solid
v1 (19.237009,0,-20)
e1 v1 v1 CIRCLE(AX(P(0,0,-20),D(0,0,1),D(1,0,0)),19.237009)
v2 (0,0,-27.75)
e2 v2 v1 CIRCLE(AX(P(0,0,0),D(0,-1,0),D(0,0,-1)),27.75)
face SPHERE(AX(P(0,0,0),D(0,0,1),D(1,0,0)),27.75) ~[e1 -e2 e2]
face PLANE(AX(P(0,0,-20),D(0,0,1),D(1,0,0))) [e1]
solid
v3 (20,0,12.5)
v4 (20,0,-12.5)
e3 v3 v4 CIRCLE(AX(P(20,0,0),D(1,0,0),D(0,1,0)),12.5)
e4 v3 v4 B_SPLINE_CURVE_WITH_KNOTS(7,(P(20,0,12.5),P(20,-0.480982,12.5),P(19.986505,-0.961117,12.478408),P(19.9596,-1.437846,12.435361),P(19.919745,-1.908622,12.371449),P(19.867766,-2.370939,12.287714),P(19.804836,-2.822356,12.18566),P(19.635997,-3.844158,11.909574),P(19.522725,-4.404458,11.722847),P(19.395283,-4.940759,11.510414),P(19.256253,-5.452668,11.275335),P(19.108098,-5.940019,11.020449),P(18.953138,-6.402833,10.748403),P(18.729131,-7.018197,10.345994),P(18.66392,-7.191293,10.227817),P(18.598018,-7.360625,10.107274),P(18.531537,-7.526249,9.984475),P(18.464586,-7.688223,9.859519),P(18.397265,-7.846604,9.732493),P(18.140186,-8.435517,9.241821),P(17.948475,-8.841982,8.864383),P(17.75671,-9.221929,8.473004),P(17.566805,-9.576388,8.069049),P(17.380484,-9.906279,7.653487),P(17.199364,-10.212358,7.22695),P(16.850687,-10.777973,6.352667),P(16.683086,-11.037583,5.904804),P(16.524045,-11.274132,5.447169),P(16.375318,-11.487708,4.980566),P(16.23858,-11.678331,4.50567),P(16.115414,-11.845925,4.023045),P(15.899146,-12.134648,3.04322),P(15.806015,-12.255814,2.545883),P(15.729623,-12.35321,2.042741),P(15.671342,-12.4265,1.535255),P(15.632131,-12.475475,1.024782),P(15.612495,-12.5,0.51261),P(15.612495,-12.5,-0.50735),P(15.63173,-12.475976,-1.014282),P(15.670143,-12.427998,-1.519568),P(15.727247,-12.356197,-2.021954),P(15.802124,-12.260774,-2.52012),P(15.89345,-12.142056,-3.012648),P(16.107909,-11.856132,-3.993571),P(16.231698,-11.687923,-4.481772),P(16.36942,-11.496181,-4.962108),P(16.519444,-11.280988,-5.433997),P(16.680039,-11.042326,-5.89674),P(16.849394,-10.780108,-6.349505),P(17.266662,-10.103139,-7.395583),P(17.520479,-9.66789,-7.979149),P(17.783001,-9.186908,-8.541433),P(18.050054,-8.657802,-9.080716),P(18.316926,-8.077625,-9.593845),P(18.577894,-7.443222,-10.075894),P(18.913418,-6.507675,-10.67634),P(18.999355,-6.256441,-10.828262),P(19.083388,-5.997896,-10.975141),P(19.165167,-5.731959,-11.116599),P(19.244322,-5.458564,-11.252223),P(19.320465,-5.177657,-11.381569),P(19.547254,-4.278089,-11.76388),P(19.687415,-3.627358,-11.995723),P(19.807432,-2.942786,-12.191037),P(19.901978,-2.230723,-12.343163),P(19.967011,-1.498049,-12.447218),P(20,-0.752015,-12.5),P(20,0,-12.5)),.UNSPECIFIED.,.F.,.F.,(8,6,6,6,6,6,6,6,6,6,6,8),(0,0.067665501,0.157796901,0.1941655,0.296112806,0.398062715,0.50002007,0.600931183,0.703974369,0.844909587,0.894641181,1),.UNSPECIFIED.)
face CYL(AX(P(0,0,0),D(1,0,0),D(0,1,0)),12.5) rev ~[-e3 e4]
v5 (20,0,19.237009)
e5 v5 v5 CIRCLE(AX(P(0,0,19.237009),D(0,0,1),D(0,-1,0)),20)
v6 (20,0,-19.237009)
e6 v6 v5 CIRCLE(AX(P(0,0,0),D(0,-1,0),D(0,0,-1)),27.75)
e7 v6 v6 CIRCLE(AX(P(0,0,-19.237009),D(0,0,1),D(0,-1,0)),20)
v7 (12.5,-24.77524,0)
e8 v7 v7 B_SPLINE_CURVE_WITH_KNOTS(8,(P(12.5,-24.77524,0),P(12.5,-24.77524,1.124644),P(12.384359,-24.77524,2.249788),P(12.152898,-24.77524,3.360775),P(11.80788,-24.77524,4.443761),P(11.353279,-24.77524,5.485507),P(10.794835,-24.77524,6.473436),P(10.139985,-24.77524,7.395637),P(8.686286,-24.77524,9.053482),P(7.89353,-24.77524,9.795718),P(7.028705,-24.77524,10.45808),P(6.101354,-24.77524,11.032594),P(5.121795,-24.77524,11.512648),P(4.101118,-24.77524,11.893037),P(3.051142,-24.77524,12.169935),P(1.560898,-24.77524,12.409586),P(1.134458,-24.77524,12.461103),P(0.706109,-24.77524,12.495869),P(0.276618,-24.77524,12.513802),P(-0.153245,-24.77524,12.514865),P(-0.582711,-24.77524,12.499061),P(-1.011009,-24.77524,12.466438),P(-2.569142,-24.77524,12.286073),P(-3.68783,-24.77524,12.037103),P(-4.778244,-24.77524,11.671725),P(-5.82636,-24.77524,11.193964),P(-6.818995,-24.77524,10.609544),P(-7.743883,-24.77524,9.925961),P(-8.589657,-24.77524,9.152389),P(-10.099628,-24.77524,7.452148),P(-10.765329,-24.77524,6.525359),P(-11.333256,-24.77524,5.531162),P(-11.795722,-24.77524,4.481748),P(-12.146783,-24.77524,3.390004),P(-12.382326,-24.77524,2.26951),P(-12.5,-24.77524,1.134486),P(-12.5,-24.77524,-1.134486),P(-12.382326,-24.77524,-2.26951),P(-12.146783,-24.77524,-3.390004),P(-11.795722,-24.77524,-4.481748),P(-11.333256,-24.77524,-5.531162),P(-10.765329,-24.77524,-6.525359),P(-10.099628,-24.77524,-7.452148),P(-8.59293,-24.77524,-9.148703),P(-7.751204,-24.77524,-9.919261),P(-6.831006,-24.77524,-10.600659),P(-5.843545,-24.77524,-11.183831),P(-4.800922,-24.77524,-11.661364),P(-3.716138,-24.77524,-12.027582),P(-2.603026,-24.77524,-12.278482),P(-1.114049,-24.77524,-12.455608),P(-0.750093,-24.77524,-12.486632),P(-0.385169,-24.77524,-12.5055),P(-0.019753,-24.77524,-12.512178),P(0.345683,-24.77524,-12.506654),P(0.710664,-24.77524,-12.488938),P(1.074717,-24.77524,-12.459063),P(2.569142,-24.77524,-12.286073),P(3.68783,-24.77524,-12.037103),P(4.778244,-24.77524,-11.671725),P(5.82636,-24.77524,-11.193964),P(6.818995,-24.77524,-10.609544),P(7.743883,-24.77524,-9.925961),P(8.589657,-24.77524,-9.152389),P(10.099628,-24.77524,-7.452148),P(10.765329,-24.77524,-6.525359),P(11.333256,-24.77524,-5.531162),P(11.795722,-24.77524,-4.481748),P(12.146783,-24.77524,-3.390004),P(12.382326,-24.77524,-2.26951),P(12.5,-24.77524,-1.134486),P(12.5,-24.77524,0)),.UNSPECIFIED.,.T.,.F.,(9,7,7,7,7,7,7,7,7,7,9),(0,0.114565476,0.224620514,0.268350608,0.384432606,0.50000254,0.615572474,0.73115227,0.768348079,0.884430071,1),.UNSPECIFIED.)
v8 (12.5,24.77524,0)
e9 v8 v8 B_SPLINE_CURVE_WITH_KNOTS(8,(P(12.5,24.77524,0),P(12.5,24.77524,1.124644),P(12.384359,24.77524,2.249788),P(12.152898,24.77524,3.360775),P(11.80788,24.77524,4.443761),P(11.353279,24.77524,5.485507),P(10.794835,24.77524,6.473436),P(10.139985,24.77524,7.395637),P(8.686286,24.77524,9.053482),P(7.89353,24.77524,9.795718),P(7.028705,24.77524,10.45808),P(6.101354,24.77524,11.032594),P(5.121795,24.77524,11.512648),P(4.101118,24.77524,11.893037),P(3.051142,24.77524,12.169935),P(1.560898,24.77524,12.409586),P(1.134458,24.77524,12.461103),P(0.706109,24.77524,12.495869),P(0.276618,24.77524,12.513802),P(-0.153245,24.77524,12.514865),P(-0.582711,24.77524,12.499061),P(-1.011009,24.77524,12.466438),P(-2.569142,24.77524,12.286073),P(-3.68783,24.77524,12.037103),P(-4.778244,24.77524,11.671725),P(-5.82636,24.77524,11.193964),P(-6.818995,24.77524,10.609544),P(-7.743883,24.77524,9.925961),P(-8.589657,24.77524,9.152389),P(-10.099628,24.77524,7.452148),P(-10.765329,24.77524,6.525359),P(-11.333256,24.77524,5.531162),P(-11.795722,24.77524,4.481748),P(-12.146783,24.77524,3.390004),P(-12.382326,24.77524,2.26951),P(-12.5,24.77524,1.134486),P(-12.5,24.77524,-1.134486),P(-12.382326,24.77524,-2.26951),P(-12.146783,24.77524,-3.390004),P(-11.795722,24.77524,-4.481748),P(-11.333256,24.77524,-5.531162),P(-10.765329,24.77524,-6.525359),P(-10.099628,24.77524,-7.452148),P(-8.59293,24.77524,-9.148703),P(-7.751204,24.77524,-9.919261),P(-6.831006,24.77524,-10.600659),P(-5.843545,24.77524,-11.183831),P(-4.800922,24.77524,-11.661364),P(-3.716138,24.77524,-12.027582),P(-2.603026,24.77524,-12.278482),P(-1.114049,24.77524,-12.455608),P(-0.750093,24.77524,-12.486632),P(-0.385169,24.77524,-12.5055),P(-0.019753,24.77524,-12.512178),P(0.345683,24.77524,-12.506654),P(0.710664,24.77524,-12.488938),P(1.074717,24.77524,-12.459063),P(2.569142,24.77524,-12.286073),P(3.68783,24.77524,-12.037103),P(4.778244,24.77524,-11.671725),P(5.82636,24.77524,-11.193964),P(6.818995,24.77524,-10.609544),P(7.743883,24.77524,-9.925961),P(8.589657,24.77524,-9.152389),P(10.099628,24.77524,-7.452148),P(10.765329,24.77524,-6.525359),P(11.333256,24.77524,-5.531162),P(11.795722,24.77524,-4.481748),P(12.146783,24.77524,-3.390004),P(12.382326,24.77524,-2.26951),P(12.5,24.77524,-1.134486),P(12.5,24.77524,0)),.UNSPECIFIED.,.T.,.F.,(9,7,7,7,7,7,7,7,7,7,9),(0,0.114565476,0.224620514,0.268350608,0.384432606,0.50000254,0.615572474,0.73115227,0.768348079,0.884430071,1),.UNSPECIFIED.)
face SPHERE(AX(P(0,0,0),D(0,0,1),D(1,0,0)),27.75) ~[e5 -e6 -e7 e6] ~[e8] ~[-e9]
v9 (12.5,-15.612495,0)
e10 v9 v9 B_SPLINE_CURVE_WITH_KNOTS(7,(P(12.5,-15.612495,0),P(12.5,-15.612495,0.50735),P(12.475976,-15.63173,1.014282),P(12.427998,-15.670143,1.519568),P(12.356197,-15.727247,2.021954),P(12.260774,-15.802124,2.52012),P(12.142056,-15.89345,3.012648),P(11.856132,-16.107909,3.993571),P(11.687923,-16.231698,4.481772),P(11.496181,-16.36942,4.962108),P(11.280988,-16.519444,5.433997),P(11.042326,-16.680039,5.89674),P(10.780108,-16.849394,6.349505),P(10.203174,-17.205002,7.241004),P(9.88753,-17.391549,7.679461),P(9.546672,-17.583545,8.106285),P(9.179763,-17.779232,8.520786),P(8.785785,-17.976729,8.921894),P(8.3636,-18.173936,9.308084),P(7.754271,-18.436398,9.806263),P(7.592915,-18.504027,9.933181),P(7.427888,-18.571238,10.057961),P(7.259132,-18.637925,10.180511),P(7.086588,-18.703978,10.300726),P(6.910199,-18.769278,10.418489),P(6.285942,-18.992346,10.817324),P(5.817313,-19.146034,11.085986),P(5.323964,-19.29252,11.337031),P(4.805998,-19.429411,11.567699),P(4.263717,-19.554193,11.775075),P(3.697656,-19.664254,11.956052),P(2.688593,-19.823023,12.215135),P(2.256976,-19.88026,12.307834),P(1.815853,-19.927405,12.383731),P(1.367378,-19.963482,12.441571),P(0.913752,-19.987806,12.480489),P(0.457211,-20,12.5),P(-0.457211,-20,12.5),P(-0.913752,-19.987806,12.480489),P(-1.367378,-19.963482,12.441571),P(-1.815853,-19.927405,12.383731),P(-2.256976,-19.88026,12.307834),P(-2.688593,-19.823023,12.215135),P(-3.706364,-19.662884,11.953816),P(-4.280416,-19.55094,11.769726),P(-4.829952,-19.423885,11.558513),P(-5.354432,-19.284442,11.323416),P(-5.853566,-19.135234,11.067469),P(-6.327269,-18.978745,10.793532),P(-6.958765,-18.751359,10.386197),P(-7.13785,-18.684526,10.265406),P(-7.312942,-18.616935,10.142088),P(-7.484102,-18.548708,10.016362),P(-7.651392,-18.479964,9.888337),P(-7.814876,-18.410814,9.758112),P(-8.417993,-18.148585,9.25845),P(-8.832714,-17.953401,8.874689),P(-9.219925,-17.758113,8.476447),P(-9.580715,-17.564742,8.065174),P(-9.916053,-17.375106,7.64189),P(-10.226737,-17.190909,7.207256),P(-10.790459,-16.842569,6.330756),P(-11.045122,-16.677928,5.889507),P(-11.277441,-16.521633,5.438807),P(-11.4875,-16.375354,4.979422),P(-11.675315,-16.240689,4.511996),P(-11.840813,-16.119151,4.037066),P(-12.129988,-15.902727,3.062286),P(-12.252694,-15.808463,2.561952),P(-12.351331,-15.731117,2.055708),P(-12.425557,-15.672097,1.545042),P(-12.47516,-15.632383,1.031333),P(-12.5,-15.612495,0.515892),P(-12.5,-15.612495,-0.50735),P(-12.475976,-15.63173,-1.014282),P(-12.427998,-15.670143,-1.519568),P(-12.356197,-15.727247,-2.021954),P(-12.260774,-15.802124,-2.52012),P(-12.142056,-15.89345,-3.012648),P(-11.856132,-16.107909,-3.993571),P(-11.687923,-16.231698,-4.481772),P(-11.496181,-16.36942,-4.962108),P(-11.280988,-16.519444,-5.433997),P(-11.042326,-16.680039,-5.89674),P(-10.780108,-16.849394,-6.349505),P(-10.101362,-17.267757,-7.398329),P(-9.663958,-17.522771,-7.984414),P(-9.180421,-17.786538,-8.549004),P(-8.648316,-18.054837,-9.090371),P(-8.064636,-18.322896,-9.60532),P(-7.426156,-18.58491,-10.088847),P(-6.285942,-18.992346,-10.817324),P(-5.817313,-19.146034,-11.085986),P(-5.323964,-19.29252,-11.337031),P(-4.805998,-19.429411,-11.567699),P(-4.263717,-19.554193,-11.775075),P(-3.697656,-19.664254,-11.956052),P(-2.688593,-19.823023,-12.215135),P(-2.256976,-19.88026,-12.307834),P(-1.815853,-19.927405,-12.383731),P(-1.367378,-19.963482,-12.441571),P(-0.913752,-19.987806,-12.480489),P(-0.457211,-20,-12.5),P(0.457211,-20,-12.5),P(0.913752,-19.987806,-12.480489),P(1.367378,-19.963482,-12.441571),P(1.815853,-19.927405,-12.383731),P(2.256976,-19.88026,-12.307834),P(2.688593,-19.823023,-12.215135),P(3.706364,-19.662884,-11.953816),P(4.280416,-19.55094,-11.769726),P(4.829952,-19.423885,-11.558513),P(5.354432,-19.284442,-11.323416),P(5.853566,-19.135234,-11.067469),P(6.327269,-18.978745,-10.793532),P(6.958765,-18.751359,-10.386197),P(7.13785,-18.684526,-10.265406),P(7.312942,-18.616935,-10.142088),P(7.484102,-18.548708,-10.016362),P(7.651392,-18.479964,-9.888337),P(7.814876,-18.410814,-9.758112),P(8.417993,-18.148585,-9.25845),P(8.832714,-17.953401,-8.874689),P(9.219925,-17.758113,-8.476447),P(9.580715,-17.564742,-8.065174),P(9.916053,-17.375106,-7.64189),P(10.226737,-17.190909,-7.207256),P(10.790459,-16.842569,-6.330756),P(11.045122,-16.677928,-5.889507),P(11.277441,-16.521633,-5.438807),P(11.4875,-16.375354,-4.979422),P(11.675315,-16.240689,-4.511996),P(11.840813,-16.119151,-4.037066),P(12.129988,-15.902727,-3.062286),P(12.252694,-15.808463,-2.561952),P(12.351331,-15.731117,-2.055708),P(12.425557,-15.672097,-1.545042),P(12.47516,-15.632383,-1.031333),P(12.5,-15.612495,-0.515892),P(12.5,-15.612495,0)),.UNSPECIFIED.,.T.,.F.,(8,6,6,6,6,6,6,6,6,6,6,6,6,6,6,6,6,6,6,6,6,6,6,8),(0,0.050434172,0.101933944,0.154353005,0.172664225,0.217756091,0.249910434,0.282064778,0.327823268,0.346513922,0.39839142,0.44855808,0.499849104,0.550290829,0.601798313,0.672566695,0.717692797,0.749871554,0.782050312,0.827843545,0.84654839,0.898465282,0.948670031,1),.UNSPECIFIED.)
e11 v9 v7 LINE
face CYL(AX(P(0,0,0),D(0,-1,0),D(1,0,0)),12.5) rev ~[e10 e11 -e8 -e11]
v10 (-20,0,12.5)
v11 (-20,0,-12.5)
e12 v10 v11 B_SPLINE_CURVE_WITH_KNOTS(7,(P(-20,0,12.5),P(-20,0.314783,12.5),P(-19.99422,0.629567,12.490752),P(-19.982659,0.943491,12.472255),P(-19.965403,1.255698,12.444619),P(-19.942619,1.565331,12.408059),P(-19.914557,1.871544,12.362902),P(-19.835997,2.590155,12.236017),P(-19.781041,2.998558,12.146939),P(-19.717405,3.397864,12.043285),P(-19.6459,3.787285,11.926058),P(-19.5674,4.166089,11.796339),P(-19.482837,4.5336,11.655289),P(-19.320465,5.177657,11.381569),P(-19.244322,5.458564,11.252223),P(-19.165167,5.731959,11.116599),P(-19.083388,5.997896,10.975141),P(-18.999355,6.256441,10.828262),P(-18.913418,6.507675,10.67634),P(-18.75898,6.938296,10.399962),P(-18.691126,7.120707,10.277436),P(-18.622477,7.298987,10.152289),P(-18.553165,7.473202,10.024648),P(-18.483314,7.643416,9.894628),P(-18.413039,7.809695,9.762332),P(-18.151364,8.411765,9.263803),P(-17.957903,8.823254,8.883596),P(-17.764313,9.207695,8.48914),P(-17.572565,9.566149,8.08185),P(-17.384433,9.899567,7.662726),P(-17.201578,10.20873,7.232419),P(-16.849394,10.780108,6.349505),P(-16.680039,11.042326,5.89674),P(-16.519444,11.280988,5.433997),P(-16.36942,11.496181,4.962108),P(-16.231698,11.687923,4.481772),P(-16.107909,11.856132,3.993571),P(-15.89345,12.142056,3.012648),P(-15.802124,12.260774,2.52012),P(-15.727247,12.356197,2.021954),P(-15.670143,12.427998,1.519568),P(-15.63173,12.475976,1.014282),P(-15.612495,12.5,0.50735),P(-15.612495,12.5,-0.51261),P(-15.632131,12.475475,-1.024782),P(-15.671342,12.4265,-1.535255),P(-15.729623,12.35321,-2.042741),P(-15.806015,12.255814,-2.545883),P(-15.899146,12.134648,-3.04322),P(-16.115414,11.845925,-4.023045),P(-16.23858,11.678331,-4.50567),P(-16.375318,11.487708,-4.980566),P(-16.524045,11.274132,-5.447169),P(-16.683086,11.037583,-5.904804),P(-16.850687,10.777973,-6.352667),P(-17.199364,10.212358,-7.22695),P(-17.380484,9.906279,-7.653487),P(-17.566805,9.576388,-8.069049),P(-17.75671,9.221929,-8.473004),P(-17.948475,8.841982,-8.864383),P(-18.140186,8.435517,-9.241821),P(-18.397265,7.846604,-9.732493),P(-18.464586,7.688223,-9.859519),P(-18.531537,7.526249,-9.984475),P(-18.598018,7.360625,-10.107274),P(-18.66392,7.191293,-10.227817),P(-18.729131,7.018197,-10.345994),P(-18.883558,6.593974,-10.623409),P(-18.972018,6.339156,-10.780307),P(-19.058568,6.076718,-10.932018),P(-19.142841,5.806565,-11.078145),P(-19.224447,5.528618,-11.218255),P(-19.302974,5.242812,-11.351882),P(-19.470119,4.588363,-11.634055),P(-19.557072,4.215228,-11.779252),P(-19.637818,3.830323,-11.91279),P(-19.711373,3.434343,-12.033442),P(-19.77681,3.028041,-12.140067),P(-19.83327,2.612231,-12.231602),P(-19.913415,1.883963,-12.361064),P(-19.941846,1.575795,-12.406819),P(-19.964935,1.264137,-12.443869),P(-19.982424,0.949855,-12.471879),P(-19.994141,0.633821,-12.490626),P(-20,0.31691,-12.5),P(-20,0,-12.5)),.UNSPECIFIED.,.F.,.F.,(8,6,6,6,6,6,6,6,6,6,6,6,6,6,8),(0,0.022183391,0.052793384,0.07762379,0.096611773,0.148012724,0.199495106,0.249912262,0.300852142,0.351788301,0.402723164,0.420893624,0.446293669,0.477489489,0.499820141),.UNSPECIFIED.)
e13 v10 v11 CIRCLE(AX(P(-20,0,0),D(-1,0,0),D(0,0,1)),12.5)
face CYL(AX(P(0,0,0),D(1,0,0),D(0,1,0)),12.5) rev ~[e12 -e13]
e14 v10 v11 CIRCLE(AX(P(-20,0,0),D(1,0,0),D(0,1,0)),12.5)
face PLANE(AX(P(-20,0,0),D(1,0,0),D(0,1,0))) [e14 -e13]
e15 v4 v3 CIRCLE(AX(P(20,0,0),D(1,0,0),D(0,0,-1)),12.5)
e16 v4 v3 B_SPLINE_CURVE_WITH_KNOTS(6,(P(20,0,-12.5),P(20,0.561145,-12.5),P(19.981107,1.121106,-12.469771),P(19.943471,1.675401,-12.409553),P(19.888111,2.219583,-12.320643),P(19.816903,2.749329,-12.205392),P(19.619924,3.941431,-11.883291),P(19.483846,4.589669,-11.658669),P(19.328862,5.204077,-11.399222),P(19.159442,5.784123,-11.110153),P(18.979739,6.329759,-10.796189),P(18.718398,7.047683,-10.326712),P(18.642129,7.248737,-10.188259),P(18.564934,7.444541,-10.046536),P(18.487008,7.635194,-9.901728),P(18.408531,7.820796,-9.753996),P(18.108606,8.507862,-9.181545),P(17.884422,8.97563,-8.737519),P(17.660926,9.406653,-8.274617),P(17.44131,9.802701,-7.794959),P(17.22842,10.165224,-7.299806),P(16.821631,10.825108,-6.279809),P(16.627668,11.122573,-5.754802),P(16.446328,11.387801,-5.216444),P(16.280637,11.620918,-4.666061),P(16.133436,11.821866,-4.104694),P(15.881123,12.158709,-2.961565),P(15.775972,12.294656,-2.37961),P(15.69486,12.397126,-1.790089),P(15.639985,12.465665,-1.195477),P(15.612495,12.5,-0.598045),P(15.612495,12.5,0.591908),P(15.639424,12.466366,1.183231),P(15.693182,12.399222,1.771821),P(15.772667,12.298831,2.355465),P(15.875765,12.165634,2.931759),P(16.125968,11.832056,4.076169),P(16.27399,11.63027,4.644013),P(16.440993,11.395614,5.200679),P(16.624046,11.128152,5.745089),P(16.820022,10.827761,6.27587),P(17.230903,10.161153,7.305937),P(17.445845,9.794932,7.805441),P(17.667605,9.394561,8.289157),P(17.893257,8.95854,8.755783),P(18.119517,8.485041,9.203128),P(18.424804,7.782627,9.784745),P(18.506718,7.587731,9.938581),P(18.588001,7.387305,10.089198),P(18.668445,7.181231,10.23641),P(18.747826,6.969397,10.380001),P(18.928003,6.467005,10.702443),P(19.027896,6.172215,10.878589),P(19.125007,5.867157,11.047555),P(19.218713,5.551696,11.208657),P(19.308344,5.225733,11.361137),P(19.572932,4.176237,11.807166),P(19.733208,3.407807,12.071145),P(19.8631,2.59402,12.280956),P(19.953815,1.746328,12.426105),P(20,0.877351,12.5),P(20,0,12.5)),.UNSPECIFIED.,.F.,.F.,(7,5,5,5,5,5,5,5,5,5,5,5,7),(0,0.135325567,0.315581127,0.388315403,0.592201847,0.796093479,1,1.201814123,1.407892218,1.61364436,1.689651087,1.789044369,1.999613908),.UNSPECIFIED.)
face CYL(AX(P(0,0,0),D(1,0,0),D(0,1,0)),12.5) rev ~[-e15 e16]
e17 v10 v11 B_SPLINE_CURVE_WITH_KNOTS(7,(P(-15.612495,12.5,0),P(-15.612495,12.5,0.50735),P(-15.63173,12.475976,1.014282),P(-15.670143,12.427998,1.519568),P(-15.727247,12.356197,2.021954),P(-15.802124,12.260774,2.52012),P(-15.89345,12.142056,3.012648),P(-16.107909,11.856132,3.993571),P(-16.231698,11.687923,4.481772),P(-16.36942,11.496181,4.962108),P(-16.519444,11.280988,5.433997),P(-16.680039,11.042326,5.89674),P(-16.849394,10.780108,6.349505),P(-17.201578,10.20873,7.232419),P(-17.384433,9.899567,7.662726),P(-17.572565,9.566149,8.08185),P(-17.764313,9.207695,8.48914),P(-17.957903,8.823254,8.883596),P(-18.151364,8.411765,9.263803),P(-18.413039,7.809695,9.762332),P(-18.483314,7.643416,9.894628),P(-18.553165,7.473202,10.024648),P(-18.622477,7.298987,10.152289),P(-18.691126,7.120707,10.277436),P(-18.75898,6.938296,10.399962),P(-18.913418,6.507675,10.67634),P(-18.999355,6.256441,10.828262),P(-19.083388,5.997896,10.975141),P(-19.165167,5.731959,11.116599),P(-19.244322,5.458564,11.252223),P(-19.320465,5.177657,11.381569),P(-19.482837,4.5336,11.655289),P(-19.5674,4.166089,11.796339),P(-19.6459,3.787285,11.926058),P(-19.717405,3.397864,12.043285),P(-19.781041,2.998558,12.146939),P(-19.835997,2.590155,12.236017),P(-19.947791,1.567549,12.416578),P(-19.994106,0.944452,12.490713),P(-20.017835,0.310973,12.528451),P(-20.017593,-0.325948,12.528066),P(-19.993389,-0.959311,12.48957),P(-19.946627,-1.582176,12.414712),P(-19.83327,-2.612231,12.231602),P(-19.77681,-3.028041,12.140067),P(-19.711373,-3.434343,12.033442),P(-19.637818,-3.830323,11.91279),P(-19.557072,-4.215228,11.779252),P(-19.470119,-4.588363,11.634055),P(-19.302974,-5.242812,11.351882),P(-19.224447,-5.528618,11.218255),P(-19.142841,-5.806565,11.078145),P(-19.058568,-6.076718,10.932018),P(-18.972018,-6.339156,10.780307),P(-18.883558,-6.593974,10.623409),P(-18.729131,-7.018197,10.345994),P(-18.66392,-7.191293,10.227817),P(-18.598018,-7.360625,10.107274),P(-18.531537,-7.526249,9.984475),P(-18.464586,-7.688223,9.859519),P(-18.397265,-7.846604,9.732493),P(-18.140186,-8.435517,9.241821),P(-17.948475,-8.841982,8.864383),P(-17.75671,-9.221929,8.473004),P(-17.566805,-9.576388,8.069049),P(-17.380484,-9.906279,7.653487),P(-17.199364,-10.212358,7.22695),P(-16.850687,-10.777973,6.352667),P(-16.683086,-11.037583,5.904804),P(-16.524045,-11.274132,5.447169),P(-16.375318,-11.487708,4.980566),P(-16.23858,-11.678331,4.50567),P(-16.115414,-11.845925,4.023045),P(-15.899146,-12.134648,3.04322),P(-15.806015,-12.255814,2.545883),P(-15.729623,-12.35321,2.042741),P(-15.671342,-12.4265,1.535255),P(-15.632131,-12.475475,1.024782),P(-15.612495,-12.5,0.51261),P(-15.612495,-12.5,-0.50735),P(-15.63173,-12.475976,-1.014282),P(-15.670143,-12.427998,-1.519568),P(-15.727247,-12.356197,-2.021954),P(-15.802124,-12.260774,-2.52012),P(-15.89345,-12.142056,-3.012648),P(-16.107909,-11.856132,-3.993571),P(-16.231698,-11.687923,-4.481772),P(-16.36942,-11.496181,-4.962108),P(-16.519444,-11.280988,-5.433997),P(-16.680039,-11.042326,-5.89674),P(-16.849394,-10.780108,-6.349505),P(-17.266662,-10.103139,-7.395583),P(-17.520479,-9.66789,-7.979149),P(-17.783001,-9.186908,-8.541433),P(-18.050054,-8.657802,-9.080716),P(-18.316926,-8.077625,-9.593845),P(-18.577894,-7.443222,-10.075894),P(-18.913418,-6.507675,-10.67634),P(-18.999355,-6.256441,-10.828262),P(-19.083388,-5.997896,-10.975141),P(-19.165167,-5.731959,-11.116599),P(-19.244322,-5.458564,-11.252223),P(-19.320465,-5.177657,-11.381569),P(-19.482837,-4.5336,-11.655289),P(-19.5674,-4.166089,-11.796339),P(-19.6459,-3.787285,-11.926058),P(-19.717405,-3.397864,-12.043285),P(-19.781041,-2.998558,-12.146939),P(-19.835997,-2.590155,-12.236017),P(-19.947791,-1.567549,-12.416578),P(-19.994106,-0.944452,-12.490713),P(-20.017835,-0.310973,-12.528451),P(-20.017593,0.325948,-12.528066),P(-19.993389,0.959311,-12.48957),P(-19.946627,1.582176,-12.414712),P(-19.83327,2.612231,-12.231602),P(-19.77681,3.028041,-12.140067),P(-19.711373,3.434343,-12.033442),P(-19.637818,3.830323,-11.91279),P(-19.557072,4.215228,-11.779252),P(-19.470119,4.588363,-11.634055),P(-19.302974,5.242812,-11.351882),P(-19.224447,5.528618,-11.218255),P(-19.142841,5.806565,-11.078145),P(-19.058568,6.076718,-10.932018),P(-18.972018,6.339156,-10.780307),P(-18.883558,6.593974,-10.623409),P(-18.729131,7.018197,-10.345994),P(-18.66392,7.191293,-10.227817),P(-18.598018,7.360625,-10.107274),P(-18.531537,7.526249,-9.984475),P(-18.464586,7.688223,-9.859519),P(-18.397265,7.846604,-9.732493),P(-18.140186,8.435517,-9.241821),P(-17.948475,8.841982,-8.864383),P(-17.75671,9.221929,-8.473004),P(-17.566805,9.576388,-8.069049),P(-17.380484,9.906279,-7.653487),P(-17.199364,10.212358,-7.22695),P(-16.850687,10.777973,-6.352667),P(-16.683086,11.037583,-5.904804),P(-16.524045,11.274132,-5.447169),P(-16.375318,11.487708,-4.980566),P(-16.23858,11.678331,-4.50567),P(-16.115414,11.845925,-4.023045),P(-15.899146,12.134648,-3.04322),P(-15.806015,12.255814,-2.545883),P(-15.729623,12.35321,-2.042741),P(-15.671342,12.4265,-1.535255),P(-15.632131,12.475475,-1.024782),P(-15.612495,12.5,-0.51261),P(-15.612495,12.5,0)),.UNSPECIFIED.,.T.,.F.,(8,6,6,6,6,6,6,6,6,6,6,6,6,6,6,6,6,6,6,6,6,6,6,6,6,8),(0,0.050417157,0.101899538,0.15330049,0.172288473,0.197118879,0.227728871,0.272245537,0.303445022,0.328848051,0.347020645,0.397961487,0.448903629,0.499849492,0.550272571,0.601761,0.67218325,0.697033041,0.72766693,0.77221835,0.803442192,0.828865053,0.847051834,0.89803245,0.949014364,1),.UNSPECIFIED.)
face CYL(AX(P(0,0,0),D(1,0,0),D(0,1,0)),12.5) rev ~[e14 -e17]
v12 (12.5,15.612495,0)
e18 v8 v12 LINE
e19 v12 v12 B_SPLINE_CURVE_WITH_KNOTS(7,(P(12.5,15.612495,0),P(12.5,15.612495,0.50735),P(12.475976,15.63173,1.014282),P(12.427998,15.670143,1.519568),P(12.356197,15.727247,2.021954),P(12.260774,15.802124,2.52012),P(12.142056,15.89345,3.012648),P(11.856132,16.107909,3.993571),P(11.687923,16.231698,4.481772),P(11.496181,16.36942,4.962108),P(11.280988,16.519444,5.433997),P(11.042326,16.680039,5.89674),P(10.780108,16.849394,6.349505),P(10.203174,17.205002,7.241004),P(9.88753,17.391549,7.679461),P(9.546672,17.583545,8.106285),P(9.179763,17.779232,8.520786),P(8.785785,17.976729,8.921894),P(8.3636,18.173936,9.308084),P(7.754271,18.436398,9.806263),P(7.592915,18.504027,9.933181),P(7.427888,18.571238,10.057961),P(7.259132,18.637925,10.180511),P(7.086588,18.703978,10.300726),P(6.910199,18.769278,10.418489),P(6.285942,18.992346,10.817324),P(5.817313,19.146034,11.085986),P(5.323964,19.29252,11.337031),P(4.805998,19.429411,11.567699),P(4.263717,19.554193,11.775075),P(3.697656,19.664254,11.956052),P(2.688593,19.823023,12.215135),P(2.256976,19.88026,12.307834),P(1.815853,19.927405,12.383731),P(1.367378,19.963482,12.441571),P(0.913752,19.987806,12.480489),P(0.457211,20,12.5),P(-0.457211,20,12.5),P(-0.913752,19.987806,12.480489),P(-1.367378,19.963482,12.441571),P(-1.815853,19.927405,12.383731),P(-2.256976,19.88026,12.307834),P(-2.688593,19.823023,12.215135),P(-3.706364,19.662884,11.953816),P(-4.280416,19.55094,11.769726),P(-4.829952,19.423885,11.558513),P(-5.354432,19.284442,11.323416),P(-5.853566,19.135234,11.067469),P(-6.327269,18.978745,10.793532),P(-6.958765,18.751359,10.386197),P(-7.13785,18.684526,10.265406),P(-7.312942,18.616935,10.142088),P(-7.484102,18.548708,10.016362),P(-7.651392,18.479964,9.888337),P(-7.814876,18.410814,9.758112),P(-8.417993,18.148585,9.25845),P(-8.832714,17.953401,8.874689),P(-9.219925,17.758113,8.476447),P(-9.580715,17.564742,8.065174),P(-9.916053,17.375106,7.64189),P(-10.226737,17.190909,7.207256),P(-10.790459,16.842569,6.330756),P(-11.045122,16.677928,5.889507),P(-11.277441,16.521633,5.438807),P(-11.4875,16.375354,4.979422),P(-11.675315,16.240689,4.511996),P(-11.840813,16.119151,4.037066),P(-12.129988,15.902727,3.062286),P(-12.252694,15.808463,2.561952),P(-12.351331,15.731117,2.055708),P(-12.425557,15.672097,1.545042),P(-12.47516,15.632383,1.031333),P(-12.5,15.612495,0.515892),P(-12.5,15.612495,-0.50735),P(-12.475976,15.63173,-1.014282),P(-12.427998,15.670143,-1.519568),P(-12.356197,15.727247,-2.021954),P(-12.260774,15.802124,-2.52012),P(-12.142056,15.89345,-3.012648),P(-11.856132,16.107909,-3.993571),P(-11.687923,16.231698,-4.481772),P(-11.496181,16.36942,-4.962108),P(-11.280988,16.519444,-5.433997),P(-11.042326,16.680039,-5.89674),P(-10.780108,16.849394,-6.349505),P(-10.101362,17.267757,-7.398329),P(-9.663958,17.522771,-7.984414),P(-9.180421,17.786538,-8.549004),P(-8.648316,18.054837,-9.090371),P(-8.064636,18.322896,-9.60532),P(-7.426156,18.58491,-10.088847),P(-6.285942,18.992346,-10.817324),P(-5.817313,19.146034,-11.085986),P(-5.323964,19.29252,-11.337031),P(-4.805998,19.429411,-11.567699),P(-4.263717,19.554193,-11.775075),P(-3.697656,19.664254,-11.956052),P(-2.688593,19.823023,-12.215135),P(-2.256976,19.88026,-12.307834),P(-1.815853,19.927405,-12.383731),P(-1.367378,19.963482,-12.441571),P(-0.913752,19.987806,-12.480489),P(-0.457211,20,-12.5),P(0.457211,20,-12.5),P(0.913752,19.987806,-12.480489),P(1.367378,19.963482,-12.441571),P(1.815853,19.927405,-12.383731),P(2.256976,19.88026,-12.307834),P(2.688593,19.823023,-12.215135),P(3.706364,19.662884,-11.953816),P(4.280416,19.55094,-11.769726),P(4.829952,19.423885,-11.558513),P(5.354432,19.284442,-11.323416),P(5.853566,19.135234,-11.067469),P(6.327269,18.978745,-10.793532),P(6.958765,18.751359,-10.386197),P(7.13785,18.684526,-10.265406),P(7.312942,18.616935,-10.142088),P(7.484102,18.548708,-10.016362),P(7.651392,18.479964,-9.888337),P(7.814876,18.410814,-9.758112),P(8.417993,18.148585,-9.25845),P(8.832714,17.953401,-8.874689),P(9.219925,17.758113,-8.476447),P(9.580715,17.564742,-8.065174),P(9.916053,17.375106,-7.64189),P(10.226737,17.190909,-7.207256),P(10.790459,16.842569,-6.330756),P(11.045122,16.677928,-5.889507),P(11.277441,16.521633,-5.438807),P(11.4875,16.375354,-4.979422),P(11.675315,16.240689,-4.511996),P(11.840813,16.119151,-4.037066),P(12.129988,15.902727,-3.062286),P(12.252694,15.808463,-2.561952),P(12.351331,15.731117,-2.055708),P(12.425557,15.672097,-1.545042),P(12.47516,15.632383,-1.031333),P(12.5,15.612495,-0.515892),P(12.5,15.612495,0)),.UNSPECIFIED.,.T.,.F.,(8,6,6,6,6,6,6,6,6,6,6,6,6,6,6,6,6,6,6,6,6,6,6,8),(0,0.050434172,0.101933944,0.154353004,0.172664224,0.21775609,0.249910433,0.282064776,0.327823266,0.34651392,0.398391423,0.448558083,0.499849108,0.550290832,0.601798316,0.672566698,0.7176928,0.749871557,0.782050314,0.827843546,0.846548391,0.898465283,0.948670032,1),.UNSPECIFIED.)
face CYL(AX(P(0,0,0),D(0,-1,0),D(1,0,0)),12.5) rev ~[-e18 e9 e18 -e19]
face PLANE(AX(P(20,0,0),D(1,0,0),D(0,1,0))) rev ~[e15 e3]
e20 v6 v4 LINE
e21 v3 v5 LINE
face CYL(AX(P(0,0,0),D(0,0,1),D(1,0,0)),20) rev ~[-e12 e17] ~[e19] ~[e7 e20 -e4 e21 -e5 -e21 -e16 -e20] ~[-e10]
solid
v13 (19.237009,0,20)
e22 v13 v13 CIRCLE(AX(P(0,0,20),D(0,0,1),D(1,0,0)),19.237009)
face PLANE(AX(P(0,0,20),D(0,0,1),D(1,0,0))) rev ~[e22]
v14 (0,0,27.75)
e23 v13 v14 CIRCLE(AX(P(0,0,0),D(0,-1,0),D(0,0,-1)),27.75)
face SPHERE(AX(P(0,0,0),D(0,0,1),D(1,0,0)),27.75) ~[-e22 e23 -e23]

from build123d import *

# Parameters (mm, degrees)
F2_R     = 12.5
F3_DEPTH = 508
F4_R     = 12.5
F5_DEPTH = 20
F6_R     = 20
F7_DEPTH = 20
F8_R     = 12.5
F9_DEPTH = 20


with BuildPart() as f1:
    # F0 (on Front) → F1 (revolve)
    with BuildSketch(Plane.XZ):
        with BuildLine():
            Line((0, 27.75), (0, -27.75))
            ThreePointArc((0, -27.75), (27.75, 0), (0, 27.75))
        make_face()
    revolve(axis=Axis((0, 0, 0), (0, 0, -1)))

    # F2 (on Front) → F3 (cut, symmetric)
    with BuildSketch(Plane.XZ):
        Circle(F2_R)
    extrude(amount=F3_DEPTH, both=True, mode=Mode.SUBTRACT)

    # F4 (on Top) → F5 (cut, symmetric)
    with BuildSketch(Plane.XY):
        Circle(F4_R)
    extrude(amount=F5_DEPTH, both=True, mode=Mode.SUBTRACT)

    # F6 (on Top) → F7 (cut, symmetric)
    with BuildSketch(Plane.XY):
        Circle(F6_R)
    extrude(amount=F7_DEPTH, both=True, mode=Mode.SUBTRACT)

    # F8 (on Right) → F9 (cut, symmetric)
    with BuildSketch(Plane.YZ):
        Circle(F8_R)
    extrude(amount=F9_DEPTH, both=True, mode=Mode.SUBTRACT)


solid = f1.part
